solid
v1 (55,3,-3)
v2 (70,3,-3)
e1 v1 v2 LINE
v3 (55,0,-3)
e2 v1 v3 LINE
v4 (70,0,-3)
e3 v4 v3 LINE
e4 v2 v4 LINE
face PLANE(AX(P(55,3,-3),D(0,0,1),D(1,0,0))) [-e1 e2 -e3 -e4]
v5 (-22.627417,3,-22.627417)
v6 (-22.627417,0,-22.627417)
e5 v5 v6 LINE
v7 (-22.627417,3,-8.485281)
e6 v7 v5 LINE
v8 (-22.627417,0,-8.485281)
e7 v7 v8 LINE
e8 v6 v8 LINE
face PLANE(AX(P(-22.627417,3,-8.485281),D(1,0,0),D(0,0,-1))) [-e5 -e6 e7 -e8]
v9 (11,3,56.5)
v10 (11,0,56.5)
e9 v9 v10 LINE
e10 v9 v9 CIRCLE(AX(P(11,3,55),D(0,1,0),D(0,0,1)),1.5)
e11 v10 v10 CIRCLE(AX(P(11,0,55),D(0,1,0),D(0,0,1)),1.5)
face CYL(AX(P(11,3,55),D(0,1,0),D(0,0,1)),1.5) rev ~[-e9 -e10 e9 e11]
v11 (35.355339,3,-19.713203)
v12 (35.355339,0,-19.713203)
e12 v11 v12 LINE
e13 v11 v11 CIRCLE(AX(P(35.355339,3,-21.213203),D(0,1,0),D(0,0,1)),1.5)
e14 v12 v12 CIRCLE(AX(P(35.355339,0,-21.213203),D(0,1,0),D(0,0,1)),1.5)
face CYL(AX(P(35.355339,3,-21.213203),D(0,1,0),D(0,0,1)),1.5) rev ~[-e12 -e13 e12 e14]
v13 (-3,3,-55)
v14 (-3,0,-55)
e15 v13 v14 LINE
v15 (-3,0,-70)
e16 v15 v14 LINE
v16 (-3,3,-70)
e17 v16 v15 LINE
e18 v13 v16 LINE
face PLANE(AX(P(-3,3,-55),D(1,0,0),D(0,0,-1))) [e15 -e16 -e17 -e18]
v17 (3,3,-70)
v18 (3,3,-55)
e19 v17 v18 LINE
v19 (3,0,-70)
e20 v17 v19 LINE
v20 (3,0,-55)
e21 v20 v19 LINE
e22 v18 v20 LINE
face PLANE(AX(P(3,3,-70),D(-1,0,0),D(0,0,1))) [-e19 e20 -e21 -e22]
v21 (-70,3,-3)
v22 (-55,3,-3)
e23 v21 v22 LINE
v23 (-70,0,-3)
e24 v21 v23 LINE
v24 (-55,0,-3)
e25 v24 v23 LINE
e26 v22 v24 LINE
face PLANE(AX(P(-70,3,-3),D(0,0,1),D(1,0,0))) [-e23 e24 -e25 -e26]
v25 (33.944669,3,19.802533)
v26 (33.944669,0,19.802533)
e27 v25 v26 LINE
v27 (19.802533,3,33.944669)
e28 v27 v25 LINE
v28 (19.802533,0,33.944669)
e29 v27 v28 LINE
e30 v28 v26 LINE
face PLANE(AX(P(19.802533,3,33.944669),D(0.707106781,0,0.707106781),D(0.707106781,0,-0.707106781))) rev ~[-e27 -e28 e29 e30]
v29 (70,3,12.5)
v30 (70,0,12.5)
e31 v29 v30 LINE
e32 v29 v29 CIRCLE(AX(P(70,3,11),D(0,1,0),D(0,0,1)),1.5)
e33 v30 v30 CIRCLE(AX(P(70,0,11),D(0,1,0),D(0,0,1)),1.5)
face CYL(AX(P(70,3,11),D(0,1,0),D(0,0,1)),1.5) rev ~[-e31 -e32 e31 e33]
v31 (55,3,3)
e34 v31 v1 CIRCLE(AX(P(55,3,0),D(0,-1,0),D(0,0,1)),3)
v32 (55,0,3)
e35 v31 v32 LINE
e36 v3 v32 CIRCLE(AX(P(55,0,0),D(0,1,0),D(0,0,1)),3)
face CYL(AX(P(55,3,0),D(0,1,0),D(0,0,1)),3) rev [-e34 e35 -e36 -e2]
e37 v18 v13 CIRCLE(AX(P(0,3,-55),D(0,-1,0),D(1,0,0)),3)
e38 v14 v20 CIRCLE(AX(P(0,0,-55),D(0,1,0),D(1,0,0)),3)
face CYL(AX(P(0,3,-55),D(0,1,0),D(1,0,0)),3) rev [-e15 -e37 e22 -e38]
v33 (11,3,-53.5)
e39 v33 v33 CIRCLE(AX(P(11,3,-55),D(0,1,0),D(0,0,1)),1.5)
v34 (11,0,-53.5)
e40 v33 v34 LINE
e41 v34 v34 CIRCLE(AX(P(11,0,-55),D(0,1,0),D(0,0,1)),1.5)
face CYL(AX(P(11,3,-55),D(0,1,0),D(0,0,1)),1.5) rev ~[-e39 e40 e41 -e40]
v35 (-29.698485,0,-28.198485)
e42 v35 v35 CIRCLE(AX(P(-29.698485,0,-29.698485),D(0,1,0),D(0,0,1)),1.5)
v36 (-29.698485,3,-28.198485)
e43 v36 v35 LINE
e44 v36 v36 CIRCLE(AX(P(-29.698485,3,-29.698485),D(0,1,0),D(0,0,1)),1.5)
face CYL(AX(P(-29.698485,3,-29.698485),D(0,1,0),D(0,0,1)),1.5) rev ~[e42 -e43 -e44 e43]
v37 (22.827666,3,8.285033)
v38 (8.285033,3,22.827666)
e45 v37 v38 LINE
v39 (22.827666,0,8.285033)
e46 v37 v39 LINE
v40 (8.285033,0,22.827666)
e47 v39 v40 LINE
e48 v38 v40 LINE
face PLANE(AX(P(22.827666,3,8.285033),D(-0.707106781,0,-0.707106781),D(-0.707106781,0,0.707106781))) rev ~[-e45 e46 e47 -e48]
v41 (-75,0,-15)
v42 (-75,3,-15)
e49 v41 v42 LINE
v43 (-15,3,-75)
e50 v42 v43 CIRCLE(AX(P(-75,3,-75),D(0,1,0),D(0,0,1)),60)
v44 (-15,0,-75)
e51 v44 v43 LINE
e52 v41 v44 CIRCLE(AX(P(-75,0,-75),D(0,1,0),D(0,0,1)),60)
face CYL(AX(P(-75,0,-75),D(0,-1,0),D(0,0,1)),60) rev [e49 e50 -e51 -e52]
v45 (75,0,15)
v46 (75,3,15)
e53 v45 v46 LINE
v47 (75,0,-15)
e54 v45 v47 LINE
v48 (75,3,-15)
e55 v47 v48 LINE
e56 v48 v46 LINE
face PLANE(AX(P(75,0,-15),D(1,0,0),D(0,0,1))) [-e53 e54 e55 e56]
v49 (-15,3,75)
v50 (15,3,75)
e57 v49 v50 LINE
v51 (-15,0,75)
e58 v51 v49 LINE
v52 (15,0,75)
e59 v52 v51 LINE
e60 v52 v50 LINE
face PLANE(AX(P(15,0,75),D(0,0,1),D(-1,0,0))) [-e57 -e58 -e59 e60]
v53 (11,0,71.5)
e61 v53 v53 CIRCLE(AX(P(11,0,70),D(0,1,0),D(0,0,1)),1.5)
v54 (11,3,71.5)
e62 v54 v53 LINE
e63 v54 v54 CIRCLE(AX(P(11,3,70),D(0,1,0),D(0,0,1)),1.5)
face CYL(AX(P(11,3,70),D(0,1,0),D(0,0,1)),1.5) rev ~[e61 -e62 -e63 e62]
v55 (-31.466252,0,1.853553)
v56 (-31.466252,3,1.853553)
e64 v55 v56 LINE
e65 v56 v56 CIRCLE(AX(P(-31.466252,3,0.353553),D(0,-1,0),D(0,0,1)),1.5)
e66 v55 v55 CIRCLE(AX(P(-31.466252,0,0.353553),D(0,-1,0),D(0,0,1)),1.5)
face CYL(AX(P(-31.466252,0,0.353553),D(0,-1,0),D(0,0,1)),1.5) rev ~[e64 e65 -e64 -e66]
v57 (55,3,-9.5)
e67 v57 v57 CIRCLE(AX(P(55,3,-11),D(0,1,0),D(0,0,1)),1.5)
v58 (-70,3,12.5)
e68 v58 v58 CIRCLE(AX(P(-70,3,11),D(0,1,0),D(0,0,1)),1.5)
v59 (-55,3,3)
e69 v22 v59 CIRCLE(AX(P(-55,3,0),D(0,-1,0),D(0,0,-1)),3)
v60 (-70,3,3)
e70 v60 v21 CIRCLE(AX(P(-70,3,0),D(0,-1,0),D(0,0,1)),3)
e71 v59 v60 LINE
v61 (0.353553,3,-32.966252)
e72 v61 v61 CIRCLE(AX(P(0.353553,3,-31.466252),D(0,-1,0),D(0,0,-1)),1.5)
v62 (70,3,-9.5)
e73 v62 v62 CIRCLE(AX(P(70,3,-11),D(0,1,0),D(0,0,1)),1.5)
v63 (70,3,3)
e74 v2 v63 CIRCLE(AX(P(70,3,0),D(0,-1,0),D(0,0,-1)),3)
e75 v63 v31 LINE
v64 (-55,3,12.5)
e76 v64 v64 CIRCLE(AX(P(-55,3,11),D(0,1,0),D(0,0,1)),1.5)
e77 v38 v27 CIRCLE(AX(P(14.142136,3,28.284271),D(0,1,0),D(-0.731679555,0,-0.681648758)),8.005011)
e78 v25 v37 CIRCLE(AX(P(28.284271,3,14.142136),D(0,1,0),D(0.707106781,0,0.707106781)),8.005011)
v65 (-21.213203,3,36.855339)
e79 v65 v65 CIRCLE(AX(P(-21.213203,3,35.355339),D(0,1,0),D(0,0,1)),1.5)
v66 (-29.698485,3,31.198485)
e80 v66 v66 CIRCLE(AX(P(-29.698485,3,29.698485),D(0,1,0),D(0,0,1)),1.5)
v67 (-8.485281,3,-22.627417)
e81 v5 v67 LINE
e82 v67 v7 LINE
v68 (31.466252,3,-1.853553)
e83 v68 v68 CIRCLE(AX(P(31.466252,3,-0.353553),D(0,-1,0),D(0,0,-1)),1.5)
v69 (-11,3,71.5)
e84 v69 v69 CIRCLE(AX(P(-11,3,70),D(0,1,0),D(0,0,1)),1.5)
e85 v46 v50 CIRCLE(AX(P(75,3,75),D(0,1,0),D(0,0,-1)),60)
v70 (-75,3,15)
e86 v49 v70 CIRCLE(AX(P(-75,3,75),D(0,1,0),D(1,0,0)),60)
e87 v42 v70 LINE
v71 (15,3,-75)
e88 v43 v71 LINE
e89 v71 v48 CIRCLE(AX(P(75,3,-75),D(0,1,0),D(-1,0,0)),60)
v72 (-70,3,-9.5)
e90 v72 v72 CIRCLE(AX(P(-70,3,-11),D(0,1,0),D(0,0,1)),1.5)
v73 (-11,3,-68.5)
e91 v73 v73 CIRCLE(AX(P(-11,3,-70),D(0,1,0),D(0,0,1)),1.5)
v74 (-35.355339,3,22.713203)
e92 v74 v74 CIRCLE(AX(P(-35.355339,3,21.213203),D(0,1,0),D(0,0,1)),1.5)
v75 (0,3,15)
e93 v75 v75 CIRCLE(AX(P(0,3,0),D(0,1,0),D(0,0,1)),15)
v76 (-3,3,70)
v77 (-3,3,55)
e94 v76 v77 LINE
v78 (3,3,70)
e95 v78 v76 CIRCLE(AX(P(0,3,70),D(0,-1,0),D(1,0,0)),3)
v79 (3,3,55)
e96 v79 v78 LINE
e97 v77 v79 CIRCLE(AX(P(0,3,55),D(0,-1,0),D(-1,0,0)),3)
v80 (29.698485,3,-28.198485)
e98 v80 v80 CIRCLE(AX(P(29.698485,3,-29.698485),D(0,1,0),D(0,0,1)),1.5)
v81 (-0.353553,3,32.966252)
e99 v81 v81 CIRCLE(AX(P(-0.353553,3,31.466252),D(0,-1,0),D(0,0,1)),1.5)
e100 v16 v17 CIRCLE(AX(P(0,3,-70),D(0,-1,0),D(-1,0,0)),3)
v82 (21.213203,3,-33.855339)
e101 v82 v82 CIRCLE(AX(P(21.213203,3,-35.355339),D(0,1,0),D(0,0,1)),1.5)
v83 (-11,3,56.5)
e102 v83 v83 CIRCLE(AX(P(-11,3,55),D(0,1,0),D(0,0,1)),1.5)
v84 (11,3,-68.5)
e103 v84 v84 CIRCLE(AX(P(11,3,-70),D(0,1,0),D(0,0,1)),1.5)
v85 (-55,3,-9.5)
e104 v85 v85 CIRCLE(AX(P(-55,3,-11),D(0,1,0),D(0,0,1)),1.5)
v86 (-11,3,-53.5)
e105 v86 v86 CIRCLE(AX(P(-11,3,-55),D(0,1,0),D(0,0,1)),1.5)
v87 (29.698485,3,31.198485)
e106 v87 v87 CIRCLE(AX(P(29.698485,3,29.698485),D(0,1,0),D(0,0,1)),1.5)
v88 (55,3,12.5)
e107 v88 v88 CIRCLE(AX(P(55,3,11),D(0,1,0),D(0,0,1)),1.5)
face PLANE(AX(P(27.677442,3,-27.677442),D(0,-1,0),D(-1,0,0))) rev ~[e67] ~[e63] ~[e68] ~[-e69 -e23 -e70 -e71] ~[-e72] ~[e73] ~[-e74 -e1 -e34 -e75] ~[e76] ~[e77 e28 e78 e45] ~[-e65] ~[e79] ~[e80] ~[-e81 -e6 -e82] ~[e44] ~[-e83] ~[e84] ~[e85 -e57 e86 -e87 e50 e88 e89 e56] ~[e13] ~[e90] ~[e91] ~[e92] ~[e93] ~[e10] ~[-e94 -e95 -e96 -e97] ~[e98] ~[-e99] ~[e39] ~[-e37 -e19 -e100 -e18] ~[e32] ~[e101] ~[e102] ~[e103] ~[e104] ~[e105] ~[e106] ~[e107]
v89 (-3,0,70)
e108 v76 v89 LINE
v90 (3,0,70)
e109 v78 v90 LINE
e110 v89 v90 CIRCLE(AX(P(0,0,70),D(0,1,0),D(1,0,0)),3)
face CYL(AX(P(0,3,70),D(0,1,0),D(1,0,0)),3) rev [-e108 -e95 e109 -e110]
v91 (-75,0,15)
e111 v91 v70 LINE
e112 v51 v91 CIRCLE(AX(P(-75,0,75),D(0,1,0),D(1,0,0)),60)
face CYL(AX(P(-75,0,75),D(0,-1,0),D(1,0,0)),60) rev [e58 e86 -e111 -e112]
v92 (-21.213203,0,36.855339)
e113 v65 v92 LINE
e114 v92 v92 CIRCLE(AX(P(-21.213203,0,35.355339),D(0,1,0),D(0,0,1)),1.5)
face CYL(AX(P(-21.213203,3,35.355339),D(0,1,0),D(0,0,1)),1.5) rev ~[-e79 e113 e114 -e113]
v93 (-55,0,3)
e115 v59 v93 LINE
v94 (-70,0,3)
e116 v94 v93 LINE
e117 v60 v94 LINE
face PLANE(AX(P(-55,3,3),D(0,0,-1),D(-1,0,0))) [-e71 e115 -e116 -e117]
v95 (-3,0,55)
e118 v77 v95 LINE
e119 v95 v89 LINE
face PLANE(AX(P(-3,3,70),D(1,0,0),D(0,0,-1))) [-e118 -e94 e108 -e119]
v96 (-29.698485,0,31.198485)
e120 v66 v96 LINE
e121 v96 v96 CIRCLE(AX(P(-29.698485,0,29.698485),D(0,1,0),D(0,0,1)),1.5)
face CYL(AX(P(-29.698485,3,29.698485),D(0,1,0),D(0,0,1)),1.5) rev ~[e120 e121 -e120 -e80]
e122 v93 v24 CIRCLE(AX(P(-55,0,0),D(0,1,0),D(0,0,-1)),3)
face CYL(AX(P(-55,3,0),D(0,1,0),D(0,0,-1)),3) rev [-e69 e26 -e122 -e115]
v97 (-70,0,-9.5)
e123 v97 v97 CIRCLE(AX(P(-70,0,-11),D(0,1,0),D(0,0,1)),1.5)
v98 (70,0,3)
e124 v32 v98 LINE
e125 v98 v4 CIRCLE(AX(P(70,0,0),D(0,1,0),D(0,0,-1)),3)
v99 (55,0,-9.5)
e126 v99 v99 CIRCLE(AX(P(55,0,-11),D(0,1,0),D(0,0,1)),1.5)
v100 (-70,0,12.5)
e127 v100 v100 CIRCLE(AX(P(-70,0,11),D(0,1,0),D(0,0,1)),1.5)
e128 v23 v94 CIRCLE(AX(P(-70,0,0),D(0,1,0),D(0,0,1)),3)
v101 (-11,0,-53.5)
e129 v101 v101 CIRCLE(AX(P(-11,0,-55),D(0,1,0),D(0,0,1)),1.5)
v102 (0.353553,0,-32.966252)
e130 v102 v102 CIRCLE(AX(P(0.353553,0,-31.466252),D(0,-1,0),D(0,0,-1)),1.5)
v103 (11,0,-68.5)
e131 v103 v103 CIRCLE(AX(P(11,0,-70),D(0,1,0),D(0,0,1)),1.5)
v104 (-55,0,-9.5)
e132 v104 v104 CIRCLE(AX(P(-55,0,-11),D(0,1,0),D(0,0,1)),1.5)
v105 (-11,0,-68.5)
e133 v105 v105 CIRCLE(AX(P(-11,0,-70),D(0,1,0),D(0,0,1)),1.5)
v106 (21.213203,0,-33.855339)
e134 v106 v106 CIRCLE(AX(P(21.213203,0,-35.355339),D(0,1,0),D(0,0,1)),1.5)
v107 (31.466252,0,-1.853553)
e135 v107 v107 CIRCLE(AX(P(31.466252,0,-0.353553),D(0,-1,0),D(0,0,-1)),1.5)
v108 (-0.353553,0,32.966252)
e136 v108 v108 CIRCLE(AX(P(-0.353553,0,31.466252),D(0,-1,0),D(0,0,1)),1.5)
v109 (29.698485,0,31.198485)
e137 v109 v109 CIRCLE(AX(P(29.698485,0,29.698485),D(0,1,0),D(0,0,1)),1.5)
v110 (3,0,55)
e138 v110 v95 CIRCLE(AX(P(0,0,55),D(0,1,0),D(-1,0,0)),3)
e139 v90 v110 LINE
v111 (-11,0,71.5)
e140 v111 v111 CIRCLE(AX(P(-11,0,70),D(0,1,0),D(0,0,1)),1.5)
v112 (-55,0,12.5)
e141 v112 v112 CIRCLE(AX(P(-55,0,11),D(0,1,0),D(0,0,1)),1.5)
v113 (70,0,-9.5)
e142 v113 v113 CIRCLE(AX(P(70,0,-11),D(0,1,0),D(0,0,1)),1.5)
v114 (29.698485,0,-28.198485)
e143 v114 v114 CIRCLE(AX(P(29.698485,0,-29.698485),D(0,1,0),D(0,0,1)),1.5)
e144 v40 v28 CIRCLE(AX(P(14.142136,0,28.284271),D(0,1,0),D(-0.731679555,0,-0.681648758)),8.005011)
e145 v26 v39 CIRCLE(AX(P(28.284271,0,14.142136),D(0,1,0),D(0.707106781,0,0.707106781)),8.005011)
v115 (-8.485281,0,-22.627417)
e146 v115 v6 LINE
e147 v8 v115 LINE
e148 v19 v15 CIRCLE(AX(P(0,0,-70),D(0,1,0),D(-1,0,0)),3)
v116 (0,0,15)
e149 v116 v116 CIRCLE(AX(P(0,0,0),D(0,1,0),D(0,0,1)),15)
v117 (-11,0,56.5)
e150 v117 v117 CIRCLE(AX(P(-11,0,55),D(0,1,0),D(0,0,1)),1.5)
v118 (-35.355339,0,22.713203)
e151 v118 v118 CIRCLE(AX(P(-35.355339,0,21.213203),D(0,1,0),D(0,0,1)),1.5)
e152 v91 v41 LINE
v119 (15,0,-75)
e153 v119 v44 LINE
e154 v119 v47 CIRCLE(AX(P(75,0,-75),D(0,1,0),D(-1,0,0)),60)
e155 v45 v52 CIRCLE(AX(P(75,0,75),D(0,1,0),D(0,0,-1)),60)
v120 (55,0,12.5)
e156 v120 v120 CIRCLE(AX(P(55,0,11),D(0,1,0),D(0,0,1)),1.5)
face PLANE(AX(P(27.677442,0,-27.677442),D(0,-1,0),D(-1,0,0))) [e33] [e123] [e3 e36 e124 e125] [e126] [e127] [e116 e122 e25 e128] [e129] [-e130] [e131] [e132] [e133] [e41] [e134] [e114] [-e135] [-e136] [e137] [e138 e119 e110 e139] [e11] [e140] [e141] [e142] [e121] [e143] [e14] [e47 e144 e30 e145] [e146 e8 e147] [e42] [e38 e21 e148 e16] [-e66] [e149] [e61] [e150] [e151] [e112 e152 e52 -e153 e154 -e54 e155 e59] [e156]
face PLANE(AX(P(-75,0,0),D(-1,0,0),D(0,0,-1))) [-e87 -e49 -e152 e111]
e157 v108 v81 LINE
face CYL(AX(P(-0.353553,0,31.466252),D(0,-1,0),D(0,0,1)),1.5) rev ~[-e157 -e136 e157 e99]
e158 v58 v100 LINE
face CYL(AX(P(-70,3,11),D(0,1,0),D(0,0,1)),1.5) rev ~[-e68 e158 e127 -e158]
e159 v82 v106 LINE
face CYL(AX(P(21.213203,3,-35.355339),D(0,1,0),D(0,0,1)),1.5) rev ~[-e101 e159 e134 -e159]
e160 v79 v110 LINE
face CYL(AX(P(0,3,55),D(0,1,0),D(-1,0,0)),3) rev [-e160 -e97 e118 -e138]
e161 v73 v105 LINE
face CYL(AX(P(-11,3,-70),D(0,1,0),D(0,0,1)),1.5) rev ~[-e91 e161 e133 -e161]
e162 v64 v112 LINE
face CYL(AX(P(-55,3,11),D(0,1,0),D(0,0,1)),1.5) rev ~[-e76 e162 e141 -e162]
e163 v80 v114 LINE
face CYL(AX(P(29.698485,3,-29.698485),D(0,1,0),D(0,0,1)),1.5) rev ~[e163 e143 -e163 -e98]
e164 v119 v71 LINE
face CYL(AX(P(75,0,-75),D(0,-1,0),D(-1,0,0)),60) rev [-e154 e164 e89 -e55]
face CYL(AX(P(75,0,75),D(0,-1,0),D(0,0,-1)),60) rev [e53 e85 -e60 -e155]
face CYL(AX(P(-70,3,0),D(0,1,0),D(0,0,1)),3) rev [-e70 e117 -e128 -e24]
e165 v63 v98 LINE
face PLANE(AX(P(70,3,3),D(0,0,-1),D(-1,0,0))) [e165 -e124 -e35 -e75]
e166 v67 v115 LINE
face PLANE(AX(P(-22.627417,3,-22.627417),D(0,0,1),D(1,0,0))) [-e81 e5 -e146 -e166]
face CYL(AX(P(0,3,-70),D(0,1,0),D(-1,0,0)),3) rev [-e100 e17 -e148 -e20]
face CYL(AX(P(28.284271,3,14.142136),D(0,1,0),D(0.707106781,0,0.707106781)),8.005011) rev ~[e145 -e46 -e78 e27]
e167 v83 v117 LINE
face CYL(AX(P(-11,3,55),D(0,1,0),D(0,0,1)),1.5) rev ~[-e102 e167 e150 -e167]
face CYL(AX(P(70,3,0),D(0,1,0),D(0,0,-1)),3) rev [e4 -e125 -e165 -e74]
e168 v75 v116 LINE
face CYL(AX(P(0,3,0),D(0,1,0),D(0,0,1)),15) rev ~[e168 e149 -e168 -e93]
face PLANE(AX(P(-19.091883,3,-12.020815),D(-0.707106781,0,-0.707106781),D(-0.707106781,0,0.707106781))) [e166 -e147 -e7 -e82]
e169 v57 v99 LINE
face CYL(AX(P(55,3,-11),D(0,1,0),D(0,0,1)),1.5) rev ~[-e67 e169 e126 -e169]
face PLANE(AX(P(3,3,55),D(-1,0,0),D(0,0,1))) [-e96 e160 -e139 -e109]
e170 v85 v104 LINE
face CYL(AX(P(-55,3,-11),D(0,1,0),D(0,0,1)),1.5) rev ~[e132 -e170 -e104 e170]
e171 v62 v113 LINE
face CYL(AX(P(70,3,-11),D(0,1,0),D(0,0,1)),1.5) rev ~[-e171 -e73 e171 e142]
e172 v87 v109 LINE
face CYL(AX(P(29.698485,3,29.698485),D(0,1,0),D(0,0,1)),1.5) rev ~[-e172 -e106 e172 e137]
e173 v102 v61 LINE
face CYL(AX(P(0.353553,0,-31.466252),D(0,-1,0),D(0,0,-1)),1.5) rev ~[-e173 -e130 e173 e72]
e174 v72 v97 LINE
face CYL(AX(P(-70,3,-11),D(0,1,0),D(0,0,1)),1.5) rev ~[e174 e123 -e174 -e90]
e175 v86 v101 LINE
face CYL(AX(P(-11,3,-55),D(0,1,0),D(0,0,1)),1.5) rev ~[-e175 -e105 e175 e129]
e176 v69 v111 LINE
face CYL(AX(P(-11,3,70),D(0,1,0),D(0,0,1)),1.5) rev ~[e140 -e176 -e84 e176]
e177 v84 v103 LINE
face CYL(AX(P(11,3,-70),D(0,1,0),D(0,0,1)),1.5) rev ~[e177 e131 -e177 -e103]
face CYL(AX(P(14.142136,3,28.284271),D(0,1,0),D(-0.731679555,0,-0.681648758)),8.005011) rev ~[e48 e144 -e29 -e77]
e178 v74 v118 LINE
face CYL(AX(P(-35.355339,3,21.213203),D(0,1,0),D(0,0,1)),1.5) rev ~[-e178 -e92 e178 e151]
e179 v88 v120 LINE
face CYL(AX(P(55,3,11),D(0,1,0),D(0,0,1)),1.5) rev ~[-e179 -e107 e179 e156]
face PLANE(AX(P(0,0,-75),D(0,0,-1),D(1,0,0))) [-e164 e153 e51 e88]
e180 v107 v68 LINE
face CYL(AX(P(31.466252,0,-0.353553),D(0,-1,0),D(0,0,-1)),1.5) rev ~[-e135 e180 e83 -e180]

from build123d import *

# Parameters (mm, degrees)
SKETCH_1_R           = 1.25
EXTRUDE_1_DEPTH      = 3
SKETCH_2_R           = 1.5
CUT_EXTRUDE_1_DEPTH  = 3
CUT_EXTRUDE_2_DEPTH  = 3
CUT_EXTRUDE_3_DEPTH  = 3
CUT_EXTRUDE_4_DEPTH  = 10
SKETCH_6_R           = 1.5
CUT_EXTRUDE_5_DEPTH  = 10
SKETCH_7_R           = 1.5
CUT_EXTRUDE_8_DEPTH  = 10
SKETCH_8_R           = 1.5
CUT_EXTRUDE_9_DEPTH  = 10
SKETCH_9_R           = 15
CUT_EXTRUDE_10_DEPTH = 10
SKETCH_10_R          = 1.5
CUT_EXTRUDE_11_DEPTH = 10
CUT_EXTRUDE_12_DEPTH = 10


with BuildPart() as part:
    # 草图1 → 凸台-拉伸1 (new body)
    # profile 1 of 4: a face of its own
    with BuildSketch(Plane(origin=(0, 0, 0), x_dir=(1, 0, 0), z_dir=(0, 1, 0))):
        with BuildLine():
            ThreePointArc((75, -15), (32.573593129, -32.573593129), (15, -75))
            Line((15, -75), (0, -75))
            Line((0, -75), (0, 0))
            Line((0, 0), (75, 0))
            Line((75, 0), (75, -15))
        make_face()
        with Locations(Location((11, -70, 0), (0, 0, 270))):
            Circle(SKETCH_1_R, mode=Mode.SUBTRACT)
        with Locations(Location((70, -11, 0), (0, 0, 270))):
            Circle(SKETCH_1_R, mode=Mode.SUBTRACT)
    # profile 2 of 4: a face of its own
    with BuildSketch(Plane(origin=(0, 0, 0), x_dir=(1, 0, 0), z_dir=(0, 1, 0))):
        with BuildLine():
            ThreePointArc((-15, -75), (-32.573593129, -32.573593129), (-75, -15))
            Line((-75, -15), (-75, 0))
            Line((-75, 0), (0, 0))
            Line((0, 0), (0, -75))
            Line((0, -75), (-15, -75))
        make_face()
        with Locations(Location((-70, -11, 0), (0, 0, 270))):
            Circle(SKETCH_1_R, mode=Mode.SUBTRACT)
        with Locations(Location((-11, -70, 0), (0, 0, 270))):
            Circle(SKETCH_1_R, mode=Mode.SUBTRACT)
    # profile 3 of 4: a face of its own
    with BuildSketch(Plane(origin=(0, 0, 0), x_dir=(1, 0, 0), z_dir=(0, 1, 0))):
        with BuildLine():
            ThreePointArc((-75, 15), (-32.573593129, 32.573593129), (-15, 75))
            Line((-15, 75), (0, 75))
            Line((0, 75), (0, 0))
            Line((0, 0), (-75, 0))
            Line((-75, 0), (-75, 15))
        make_face()
        with Locations(Location((-11, 70, 0), (0, 0, 270))):
            Circle(SKETCH_1_R, mode=Mode.SUBTRACT)
        with Locations(Location((-70, 11, 0), (0, 0, 270))):
            Circle(SKETCH_1_R, mode=Mode.SUBTRACT)
    # profile 4 of 4: a face of its own
    with BuildSketch(Plane(origin=(0, 0, 0), x_dir=(1, 0, 0), z_dir=(0, 1, 0))):
        with BuildLine():
            ThreePointArc((15, 75), (32.573593129, 32.573593129), (75, 15))
            Line((75, 15), (75, 0))
            Line((75, 0), (0, 0))
            Line((0, 0), (0, 75))
            Line((0, 75), (15, 75))
        make_face()
        with Locations(Location((70, 11, 0), (0, 0, 270))):
            Circle(SKETCH_1_R, mode=Mode.SUBTRACT)
        with Locations(Location((11, 70, 0), (0, 0, 270))):
            Circle(SKETCH_1_R, mode=Mode.SUBTRACT)
    extrude(amount=EXTRUDE_1_DEPTH)

    # 草图2 → 切除-拉伸1 (cut)
    with BuildSketch(Plane.XZ):
        with Locations(Location((0.353553391, -31.466251763, 0), (0, 0, 270))):
            Circle(SKETCH_2_R)
        with Locations(Location((31.466251763, -0.353553391, 0), (0, 0, 270))):
            Circle(SKETCH_2_R)
        with Locations(Location((-0.353553391, 31.466251763, 0), (0, 0, 90))):
            Circle(SKETCH_2_R)
        with Locations(Location((-31.466251763, 0.353553391, 0), (0, 0, 90))):
            Circle(SKETCH_2_R)
    extrude(amount=-CUT_EXTRUDE_1_DEPTH, mode=Mode.SUBTRACT)

    # 草图3 → 切除-拉伸2 (cut)
    with BuildSketch(Plane(origin=(0, 3, 0), x_dir=(1, 0, 0), z_dir=(0, 1, 0))):
        Polygon((-15.556349186, 15.556349186), (-12.02081528, 19.091883092), (-22.627416998, 22.627416998), align=None)
        Polygon((-19.091883092, 12.02081528), (-15.556349186, 15.556349186), (-22.627416998, 22.627416998), align=None)
    extrude(amount=-CUT_EXTRUDE_2_DEPTH, mode=Mode.SUBTRACT)

    # 草图4 → 切除-拉伸3 (cut)
    with BuildSketch(Plane(origin=(0, 3, 0), x_dir=(1, 0, 0), z_dir=(0, 1, 0))):
        with BuildLine():
            ThreePointArc((33.944668714, -19.80253309), (34.043922781, -8.582763971), (22.827665534, -8.285032838))
            Line((22.827665534, -8.285032838), (15.556349186, -15.556349186))
            Line((15.556349186, -15.556349186), (8.285032838, -22.827665534))
            ThreePointArc((8.285032838, -22.827665534), (8.582763971, -34.043922781), (19.80253309, -33.944668714))
            Line((19.80253309, -33.944668714), (33.944668714, -19.80253309))
        make_face()
    extrude(amount=-CUT_EXTRUDE_3_DEPTH, mode=Mode.SUBTRACT)

    # 草图5 → 切除-拉伸4 (cut)
    with BuildSketch(Plane(origin=(0, 3, 0), x_dir=(1, 0, 0), z_dir=(0, 1, 0))):
        Polygon((-22.627416998, 8.485281374), (-22.627416998, 22.627416998), (-19.091883092, 12.02081528), align=None)
        Polygon((-12.02081528, 19.091883092), (-22.627416998, 22.627416998), (-8.485281374, 22.627416998), align=None)
    extrude(amount=-CUT_EXTRUDE_4_DEPTH, mode=Mode.SUBTRACT)

    # 草图6 → 切除-拉伸5 (cut)
    with BuildSketch(Plane(origin=(0, 3, 0), x_dir=(1, 0, 0), z_dir=(0, 1, 0))):
        with Locations(Location((-35.355339059, -21.213203436, 0), (0, 0, 270))):
            Circle(SKETCH_6_R)
        with Locations(Location((-21.213203436, -35.355339059, 0), (0, 0, 270))):
            Circle(SKETCH_6_R)
        with Locations(Location((35.355339059, 21.213203436, 0), (0, 0, 270))):
            Circle(SKETCH_6_R)
        with Locations(Location((21.213203436, 35.355339059, 0), (0, 0, 270))):
            Circle(SKETCH_6_R)
    extrude(amount=-CUT_EXTRUDE_5_DEPTH, mode=Mode.SUBTRACT)

    # 草图7 → 切除-拉伸8 (cut)
    with BuildSketch(Plane(origin=(0, 3, 0), x_dir=(1, 0, 0), z_dir=(0, 1, 0))):
        with Locations(Location((-29.69848481, 29.69848481, 0), (0, 0, 270))):
            Circle(SKETCH_7_R)
        with Locations(Location((29.69848481, 29.69848481, 0), (0, 0, 270))):
            Circle(SKETCH_7_R)
        with Locations(Location((29.69848481, -29.69848481, 0), (0, 0, 270))):
            Circle(SKETCH_7_R)
        with Locations(Location((-29.69848481, -29.69848481, 0), (0, 0, 270))):
            Circle(SKETCH_7_R)
    extrude(amount=-CUT_EXTRUDE_8_DEPTH, mode=Mode.SUBTRACT)

    # 草图8 → 切除-拉伸9 (cut)
    with BuildSketch(Plane(origin=(0, 3, 0), x_dir=(1, 0, 0), z_dir=(0, 1, 0))):
        with Locations(Location((-11, 55, 0), (0, 0, 270))):
            Circle(SKETCH_8_R)
        with Locations(Location((11, 55, 0), (0, 0, 270))):
            Circle(SKETCH_8_R)
        with Locations(Location((55, 11, 0), (0, 0, 270))):
            Circle(SKETCH_8_R)
        with Locations(Location((55, -11, 0), (0, 0, 270))):
            Circle(SKETCH_8_R)
        with Locations(Location((11, -55, 0), (0, 0, 270))):
            Circle(SKETCH_8_R)
        with Locations(Location((-11, -55, 0), (0, 0, 270))):
            Circle(SKETCH_8_R)
        with Locations(Location((-55, -11, 0), (0, 0, 270))):
            Circle(SKETCH_8_R)
        with Locations(Location((-55, 11, 0), (0, 0, 270))):
            Circle(SKETCH_8_R)
    extrude(amount=-CUT_EXTRUDE_9_DEPTH, mode=Mode.SUBTRACT)

    # 草图9 → 切除-拉伸10 (cut)
    with BuildSketch(Plane(origin=(0, 3, 0), x_dir=(1, 0, 0), z_dir=(0, 1, 0))):
        with Locations(Location((0, 0, 0), (0, 0, 270))):
            Circle(SKETCH_9_R)
    extrude(amount=-CUT_EXTRUDE_10_DEPTH, mode=Mode.SUBTRACT)

    # 草图10 → 切除-拉伸11 (cut)
    with BuildSketch(Plane(origin=(0, 3, 0), x_dir=(1, 0, 0), z_dir=(0, 1, 0))):
        with Locations(Location((11, 70, 0), (0, 0, 270))):
            Circle(SKETCH_10_R)
        with Locations(Location((-11, 70, 0), (0, 0, 270))):
            Circle(SKETCH_10_R)
        with Locations(Location((70, 11, 0), (0, 0, 270))):
            Circle(SKETCH_10_R)
        with Locations(Location((70, -11, 0), (0, 0, 270))):
            Circle(SKETCH_10_R)
        with Locations(Location((11, -70, 0), (0, 0, 270))):
            Circle(SKETCH_10_R)
        with Locations(Location((-11, -70, 0), (0, 0, 270))):
            Circle(SKETCH_10_R)
        with Locations(Location((-70, -11, 0), (0, 0, 270))):
            Circle(SKETCH_10_R)
        with Locations(Location((-70, 11, 0), (0, 0, 270))):
            Circle(SKETCH_10_R)
    extrude(amount=-CUT_EXTRUDE_11_DEPTH, mode=Mode.SUBTRACT)

    # 草图11 → 切除-拉伸12 (cut)
    with BuildSketch(Plane(origin=(0, 3, 0), x_dir=(1, 0, 0), z_dir=(0, 1, 0))):
        with BuildLine():
            Line((3, 70), (3, 55))
            ThreePointArc((3, 55), (0, 52), (-3, 55))
            Line((-3, 55), (-3, 70))
            ThreePointArc((-3, 70), (0, 73), (3, 70))
        make_face()
        with BuildLine():
            Line((70, -3), (55, -3))
            ThreePointArc((55, -3), (52, 0), (55, 3))
            Line((55, 3), (70, 3))
            ThreePointArc((70, 3), (73, 0), (70, -3))
        make_face()
        with BuildLine():
            Line((-3, -70), (-3, -55))
            ThreePointArc((-3, -55), (0, -52), (3, -55))
            Line((3, -55), (3, -70))
            ThreePointArc((3, -70), (0, -73), (-3, -70))
        make_face()
        with BuildLine():
            Line((-70, 3), (-55, 3))
            ThreePointArc((-55, 3), (-52, 0), (-55, -3))
            Line((-55, -3), (-70, -3))
            ThreePointArc((-70, -3), (-73, 0), (-70, 3))
        make_face()
    extrude(amount=-CUT_EXTRUDE_12_DEPTH, mode=Mode.SUBTRACT)


solid = part.part
